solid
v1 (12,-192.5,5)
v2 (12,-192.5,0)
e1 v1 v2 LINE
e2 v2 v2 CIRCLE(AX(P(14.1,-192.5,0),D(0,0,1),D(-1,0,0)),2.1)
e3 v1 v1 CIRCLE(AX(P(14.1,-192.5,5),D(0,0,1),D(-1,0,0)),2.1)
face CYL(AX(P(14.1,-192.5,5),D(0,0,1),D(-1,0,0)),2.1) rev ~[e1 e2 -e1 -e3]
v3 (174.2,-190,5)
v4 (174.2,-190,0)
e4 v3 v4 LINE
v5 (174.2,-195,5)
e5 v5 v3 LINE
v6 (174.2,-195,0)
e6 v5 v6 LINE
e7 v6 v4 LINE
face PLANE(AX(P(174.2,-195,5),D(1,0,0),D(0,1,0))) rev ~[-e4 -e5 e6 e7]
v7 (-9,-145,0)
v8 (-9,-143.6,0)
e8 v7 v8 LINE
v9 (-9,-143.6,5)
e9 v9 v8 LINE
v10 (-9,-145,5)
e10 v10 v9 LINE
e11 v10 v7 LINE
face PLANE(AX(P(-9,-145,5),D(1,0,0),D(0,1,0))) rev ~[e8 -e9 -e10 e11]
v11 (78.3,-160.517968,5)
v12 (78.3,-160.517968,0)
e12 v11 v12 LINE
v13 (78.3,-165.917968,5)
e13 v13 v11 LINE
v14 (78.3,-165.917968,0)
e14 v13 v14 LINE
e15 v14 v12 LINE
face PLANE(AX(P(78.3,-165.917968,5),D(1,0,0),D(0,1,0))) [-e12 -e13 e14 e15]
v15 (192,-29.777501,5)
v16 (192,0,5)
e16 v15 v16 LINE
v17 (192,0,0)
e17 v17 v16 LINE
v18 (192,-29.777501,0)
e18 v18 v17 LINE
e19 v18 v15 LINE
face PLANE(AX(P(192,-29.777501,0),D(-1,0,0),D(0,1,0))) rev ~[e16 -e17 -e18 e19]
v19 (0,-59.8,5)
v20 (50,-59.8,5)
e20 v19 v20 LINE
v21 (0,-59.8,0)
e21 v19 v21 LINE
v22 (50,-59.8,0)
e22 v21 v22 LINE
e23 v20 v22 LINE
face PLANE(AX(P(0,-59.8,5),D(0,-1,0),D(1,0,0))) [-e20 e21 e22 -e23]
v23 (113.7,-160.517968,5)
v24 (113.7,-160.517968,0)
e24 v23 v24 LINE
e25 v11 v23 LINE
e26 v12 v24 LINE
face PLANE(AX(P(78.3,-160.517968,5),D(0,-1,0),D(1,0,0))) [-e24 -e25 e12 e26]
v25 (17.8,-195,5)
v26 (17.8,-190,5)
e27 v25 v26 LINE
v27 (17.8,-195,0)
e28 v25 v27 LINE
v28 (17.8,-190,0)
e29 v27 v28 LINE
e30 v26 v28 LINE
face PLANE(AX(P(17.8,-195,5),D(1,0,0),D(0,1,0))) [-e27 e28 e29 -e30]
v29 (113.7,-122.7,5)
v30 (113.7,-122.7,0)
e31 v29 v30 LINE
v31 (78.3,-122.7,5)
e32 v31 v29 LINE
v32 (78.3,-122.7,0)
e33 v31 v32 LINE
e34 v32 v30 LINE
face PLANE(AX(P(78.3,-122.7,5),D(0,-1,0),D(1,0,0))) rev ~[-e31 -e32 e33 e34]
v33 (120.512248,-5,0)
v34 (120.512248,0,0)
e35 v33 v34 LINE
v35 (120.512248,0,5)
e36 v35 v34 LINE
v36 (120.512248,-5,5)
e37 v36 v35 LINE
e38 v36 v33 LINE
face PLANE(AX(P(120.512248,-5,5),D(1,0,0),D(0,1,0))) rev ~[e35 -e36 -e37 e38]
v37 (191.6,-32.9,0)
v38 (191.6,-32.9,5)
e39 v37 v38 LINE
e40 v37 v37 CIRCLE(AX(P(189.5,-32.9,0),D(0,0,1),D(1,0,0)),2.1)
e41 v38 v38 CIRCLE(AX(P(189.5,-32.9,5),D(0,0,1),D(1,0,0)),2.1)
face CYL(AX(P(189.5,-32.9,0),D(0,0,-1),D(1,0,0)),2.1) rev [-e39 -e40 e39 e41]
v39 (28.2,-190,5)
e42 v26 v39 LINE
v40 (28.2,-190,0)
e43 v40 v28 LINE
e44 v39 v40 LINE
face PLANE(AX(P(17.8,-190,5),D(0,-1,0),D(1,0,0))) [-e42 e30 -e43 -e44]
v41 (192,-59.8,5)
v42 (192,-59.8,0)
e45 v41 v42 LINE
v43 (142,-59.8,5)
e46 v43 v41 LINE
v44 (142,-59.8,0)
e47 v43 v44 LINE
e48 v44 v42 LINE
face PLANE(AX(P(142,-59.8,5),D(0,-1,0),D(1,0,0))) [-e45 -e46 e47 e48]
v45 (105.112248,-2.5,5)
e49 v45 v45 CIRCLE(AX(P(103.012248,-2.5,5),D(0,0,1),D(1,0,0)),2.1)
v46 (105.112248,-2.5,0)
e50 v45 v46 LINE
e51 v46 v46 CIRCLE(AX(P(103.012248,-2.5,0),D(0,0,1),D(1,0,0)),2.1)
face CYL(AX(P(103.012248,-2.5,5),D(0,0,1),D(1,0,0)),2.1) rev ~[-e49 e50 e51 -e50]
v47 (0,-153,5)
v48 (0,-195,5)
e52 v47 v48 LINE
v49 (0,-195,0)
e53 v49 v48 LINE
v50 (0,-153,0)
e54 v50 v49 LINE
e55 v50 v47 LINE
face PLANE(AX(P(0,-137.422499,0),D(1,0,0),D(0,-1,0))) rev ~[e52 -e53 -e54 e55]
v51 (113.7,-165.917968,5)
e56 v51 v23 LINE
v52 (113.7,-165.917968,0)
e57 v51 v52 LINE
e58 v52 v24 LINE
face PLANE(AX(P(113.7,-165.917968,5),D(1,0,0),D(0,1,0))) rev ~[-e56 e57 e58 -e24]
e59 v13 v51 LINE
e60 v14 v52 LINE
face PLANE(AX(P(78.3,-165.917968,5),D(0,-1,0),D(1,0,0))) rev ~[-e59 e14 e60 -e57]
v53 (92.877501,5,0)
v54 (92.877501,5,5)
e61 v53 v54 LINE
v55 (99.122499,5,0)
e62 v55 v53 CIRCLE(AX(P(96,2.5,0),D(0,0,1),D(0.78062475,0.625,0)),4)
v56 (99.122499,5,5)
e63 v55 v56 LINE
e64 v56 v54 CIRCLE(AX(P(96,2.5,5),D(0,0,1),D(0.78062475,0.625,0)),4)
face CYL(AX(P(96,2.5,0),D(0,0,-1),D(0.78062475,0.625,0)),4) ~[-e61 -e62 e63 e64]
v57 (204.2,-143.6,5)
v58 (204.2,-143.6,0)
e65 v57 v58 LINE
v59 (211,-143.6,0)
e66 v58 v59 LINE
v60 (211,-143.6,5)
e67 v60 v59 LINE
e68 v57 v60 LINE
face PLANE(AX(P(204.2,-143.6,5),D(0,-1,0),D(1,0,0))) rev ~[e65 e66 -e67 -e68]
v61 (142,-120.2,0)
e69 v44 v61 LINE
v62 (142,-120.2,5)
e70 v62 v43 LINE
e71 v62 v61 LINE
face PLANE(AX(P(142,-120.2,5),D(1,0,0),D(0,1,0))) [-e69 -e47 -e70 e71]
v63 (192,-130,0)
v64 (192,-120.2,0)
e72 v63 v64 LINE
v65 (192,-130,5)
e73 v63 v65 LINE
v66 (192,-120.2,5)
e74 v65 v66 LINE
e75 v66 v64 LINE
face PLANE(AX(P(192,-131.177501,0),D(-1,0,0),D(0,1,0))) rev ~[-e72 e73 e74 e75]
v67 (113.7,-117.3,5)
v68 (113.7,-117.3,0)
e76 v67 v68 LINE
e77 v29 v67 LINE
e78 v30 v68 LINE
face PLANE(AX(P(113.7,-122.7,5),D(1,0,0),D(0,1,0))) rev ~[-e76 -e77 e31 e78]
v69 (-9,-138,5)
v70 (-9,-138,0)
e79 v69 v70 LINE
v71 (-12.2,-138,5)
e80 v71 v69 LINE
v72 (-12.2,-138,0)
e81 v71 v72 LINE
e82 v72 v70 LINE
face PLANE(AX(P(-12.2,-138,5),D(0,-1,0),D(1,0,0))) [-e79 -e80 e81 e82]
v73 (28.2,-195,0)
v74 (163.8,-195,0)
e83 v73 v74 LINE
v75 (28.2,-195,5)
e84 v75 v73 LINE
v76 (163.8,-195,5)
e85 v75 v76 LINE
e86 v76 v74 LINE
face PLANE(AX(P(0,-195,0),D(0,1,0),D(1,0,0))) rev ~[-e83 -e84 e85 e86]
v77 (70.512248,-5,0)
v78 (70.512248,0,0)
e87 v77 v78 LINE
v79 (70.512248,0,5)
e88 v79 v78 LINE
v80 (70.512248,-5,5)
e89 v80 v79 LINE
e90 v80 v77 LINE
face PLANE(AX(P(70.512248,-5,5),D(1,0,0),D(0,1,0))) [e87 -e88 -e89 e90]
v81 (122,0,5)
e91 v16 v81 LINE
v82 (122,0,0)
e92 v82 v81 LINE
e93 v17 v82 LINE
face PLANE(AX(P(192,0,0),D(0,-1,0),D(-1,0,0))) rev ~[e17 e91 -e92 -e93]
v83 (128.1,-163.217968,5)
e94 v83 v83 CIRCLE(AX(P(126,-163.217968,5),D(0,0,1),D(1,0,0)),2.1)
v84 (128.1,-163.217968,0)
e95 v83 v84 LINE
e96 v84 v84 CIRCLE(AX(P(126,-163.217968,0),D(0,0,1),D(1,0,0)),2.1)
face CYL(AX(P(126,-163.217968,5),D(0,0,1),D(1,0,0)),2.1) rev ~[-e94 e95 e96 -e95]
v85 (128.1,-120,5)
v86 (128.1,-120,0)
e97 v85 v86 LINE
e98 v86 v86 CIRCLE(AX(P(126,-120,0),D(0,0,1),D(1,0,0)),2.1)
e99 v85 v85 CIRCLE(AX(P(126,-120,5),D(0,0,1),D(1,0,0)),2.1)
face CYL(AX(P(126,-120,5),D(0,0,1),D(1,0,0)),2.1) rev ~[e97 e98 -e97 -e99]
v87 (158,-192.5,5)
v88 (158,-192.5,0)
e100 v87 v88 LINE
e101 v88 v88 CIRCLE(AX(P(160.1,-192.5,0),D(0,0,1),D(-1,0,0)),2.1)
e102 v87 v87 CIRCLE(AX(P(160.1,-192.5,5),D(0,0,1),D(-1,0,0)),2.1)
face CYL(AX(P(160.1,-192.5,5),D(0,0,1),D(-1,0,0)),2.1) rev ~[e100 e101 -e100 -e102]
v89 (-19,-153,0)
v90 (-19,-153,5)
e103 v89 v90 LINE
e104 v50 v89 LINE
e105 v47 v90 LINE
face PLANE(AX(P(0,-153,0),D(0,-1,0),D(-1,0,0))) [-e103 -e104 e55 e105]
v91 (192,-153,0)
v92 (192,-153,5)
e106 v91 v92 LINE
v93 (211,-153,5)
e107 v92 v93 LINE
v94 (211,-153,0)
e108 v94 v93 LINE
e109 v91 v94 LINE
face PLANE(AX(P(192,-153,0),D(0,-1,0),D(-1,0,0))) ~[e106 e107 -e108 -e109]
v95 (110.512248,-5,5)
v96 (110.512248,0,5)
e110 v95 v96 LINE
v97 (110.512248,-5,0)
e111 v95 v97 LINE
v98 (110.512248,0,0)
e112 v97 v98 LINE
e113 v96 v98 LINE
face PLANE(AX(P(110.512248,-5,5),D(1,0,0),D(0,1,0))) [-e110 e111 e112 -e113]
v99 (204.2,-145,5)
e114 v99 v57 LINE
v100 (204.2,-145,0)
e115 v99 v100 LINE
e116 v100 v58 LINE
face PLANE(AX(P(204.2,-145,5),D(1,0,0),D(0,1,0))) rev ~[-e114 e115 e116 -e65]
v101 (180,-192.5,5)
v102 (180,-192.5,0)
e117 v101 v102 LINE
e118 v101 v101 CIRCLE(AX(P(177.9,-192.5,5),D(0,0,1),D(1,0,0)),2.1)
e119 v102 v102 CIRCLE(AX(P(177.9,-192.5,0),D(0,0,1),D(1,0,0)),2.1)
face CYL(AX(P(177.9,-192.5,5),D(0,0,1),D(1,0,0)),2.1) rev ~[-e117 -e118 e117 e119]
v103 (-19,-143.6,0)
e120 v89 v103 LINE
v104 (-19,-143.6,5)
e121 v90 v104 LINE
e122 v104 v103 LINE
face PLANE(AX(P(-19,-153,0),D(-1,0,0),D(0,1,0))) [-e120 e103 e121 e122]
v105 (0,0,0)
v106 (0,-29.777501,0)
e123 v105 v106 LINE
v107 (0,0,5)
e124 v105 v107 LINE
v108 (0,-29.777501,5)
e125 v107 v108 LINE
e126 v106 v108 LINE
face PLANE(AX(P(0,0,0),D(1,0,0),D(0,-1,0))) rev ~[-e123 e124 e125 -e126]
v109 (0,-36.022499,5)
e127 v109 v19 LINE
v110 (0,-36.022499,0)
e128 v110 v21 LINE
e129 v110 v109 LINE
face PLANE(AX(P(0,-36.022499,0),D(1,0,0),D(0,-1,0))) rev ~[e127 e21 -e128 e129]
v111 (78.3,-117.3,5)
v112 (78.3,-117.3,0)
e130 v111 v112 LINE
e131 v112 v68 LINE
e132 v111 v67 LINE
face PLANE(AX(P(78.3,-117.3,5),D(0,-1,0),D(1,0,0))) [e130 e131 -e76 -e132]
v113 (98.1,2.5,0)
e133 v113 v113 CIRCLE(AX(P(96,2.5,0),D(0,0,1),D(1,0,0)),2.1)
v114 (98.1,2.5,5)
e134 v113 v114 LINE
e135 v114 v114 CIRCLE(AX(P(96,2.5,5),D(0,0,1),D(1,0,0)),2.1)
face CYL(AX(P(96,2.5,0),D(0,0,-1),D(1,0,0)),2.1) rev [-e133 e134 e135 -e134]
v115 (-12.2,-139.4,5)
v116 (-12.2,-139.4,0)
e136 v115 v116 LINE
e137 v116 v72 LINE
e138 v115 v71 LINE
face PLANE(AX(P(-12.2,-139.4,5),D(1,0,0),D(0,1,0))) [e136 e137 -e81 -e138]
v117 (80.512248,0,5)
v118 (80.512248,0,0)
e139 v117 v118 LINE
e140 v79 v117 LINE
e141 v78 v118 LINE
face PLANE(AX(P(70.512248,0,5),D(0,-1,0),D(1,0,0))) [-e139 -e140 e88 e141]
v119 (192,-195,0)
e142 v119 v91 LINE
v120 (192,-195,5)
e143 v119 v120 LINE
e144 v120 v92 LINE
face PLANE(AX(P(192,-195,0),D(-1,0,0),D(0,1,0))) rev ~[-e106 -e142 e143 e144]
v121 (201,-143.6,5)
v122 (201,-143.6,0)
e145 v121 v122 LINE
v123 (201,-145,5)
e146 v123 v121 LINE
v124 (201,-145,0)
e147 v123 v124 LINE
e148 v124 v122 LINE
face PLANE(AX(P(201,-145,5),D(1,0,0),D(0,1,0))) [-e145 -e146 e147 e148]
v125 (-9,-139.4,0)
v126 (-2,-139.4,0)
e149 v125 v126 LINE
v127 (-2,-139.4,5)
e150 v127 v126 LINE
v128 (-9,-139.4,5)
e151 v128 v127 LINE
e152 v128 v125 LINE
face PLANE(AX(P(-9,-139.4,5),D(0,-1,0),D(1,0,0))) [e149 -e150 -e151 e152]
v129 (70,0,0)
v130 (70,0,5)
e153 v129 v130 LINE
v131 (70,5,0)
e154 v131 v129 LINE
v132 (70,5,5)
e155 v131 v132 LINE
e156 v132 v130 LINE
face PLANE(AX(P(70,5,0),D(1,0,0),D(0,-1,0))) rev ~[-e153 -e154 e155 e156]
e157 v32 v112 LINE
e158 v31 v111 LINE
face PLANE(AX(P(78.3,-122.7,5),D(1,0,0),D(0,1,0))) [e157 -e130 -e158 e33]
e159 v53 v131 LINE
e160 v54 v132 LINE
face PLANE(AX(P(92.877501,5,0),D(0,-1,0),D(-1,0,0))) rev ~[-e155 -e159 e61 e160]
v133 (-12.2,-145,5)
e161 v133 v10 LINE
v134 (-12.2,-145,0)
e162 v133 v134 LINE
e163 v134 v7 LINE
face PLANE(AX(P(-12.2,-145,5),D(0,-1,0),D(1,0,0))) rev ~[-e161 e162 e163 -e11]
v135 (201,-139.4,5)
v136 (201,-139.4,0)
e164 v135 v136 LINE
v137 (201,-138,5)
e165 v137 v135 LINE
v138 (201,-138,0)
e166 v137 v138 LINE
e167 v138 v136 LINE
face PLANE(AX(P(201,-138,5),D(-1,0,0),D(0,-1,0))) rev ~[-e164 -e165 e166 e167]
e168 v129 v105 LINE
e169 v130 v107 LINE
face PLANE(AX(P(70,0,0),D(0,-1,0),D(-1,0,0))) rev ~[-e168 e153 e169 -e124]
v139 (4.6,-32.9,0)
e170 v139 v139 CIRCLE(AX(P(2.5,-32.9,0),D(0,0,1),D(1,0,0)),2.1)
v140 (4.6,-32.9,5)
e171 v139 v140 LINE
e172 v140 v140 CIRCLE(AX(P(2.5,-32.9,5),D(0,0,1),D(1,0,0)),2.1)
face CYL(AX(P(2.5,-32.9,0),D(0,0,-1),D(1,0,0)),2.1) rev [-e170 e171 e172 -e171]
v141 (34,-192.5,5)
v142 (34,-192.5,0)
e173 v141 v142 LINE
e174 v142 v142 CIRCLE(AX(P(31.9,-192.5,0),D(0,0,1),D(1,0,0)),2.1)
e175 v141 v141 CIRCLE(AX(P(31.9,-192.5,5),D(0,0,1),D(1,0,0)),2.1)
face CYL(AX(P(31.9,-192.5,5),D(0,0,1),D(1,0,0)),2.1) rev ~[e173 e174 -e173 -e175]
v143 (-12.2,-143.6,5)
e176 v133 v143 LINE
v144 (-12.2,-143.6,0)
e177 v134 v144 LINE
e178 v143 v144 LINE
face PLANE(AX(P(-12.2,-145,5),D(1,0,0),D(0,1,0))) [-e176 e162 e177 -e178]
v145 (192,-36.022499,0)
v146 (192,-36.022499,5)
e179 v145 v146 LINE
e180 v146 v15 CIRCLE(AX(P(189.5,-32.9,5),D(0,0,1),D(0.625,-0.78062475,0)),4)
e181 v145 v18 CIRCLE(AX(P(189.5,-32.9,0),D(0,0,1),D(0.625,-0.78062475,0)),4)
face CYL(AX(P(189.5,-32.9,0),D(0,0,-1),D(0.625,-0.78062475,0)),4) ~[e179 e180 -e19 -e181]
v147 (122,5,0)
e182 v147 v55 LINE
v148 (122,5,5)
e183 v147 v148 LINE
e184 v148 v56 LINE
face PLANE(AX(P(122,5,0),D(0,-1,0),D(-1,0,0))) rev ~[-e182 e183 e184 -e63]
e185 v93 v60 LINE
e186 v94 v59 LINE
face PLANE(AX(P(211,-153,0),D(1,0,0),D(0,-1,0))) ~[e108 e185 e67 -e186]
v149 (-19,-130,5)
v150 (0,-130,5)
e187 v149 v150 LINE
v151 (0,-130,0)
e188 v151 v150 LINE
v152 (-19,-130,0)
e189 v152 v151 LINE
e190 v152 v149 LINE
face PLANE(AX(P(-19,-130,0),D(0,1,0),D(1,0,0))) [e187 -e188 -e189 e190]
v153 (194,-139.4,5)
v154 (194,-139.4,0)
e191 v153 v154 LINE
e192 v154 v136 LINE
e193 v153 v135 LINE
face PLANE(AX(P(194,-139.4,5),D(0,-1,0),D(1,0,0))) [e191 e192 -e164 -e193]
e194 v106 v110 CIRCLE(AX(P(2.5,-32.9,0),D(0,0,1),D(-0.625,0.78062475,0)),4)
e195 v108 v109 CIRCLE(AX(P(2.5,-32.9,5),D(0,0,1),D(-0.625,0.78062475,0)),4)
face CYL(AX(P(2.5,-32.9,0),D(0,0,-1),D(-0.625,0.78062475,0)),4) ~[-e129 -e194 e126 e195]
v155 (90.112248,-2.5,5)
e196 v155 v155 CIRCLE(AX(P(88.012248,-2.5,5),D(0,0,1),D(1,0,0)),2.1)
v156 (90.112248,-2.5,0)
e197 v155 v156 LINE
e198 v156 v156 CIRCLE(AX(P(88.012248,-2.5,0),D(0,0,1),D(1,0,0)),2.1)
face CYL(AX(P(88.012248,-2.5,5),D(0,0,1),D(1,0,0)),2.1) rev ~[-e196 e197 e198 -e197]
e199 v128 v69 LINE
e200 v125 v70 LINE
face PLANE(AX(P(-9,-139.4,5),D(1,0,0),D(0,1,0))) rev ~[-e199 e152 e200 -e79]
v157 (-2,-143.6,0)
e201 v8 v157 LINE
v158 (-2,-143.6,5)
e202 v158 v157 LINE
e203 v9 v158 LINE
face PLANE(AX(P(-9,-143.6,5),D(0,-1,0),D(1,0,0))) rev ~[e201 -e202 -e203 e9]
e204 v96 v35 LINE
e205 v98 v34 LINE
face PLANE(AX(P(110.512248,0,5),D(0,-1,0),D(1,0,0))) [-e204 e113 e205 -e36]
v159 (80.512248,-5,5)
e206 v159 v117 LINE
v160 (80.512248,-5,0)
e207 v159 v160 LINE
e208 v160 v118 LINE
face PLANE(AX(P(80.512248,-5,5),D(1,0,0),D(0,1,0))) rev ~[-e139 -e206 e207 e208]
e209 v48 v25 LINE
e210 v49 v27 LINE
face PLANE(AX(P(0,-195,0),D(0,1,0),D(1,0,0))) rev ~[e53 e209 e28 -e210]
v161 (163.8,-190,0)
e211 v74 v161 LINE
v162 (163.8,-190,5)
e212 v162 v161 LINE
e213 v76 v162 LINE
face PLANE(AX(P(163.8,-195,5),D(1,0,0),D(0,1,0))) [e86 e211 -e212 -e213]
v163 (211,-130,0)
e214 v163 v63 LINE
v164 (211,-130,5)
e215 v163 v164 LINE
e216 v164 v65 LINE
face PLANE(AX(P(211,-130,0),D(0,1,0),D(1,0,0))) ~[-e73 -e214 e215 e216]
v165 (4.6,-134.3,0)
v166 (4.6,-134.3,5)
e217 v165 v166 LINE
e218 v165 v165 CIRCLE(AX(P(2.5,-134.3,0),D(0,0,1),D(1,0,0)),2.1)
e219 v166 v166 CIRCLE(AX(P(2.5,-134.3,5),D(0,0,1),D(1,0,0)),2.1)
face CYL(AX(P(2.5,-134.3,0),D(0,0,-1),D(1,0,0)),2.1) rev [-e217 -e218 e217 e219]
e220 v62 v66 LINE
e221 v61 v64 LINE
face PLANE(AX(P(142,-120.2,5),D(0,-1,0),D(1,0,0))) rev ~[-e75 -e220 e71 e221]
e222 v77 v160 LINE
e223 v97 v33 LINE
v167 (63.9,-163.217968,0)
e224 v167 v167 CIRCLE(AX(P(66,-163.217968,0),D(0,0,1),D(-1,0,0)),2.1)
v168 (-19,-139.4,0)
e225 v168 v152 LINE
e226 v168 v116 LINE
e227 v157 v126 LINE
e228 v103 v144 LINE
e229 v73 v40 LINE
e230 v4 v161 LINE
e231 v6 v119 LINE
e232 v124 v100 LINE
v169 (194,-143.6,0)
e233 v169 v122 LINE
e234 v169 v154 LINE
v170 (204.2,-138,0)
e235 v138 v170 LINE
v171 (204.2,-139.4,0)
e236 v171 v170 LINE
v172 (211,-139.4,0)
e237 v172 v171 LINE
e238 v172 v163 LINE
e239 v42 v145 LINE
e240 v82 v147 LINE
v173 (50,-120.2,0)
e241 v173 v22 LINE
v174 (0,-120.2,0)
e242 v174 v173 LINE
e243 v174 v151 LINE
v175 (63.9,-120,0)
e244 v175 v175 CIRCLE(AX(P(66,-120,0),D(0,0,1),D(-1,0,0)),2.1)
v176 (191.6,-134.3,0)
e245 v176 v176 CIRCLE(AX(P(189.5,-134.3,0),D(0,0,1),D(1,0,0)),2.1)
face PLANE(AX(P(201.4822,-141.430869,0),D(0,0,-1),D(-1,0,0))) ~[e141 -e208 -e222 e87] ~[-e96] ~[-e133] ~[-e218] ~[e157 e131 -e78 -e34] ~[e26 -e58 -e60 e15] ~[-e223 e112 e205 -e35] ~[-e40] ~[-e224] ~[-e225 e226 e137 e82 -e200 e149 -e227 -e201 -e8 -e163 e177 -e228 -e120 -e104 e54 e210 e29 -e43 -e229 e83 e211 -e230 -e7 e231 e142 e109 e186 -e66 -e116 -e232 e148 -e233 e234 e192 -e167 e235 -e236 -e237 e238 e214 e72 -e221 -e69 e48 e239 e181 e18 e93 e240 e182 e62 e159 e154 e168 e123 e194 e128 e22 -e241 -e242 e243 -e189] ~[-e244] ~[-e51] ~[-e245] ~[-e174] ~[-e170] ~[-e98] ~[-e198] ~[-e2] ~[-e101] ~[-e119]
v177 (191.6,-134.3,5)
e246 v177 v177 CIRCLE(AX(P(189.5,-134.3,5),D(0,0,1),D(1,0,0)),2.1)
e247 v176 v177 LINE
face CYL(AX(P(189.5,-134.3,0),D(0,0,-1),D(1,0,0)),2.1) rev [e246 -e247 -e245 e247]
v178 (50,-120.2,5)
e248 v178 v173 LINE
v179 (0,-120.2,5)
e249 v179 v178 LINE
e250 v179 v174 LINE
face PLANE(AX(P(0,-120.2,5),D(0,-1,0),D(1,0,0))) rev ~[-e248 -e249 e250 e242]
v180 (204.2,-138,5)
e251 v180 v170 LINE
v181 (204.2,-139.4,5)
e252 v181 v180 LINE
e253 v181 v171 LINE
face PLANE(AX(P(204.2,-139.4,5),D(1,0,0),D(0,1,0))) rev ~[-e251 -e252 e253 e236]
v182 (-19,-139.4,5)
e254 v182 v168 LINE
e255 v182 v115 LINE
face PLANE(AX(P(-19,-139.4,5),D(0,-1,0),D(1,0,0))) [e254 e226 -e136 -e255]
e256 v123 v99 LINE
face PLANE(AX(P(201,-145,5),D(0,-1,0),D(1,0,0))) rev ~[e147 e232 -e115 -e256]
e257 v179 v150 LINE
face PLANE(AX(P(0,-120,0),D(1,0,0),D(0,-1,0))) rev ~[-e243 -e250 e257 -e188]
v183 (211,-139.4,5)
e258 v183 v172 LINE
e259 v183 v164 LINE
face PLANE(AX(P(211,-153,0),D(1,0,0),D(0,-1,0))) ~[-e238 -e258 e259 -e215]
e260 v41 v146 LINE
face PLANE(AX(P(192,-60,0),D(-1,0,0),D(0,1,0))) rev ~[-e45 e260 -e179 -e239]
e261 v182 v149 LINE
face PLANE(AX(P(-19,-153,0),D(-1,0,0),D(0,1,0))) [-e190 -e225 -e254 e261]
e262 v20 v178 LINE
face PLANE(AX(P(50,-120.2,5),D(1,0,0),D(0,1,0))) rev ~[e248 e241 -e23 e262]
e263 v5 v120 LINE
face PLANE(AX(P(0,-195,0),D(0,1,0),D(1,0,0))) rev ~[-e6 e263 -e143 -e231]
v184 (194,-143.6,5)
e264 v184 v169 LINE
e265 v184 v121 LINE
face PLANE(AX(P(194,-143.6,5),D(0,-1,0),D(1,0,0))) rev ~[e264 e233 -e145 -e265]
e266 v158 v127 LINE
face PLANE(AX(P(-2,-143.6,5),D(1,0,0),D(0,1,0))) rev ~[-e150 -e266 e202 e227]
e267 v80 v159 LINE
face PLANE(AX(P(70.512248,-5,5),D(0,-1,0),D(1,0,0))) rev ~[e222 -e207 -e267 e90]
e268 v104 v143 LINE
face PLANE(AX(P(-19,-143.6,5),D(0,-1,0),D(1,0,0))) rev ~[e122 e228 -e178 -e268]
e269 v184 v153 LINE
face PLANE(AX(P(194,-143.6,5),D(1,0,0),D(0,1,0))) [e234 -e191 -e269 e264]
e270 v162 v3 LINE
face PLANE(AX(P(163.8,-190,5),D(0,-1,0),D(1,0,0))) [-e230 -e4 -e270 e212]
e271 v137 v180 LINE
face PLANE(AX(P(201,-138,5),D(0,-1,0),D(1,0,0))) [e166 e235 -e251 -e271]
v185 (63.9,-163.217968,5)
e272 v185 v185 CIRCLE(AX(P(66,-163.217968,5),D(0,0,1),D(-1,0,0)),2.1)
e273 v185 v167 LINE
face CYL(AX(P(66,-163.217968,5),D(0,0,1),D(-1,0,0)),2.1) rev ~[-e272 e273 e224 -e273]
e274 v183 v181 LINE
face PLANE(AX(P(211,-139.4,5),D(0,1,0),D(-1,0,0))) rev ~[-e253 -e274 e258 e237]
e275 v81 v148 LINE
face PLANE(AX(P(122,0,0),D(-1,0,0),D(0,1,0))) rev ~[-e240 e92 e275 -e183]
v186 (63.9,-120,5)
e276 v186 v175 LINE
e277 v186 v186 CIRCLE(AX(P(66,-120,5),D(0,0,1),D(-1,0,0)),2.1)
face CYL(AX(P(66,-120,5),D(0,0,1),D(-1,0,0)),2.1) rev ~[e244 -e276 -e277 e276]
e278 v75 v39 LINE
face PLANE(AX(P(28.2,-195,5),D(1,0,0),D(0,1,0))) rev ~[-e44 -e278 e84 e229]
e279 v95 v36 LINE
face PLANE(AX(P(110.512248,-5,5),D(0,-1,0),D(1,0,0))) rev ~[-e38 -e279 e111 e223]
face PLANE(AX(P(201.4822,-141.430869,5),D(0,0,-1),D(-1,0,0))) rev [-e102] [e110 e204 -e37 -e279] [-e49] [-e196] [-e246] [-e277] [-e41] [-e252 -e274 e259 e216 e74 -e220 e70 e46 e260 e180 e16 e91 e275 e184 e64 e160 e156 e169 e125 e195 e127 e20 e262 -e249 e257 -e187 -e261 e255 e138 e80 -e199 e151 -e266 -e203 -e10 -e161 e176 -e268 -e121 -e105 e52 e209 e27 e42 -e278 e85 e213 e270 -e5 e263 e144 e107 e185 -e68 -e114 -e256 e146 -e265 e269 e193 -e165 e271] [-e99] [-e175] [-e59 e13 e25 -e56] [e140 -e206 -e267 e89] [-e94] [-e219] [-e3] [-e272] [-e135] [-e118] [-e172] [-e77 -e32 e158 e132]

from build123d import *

# Parameters (mm, degrees)
SKETCH1_R           = 2.1
BOSS_EXTRUDE1_DEPTH = 5
SKETCH5_W           = 35
SKETCH5_H           = 5
SKETCH5_W_2         = 10
CUT_EXTRUDE2_DEPTH  = 5
SKETCH6_R           = 2.1
CUT_EXTRUDE3_DEPTH  = 5
SKETCH8_R           = 2.1
SKETCH8_W           = 10
SKETCH8_H           = 5
CUT_EXTRUDE4_DEPTH  = 5
BOSS_EXTRUDE3_START = -5
BOSS_EXTRUDE3_DEPTH = 5
SKETCH12_W          = 10.4
SKETCH12_H          = 5
CUT_EXTRUDE5_DEPTH  = 5
SKETCH13_W          = 35.4
SKETCH13_H          = 5.4
CUT_EXTRUDE6_DEPTH  = 5
SKETCH16_W          = 50
SKETCH16_H          = 60.4
CUT_EXTRUDE8_DEPTH  = 5
SKETCH17_W          = 6.8
SKETCH17_H          = 4.2
SKETCH17_W_2        = 3.2
SKETCH17_H_2        = 1.4
SKETCH17_W_3        = 7
CUT_EXTRUDE9_DEPTH  = 5


with BuildPart() as part:
    # Sketch1 → Boss-Extrude1 (new body)
    with BuildSketch(Plane.XY):
        with BuildLine():
            ThreePointArc((0, -29.777501001), (-1.5, -32.9), (0, -36.022498999))
            Line((0, -36.022498999), (0, -60))
            Line((0, -60), (50, -60))
            Line((50, -60), (50, -120))
            Line((50, -120), (0, -120))
            Line((0, -120), (0, -131.177501001))
            ThreePointArc((0, -131.177501001), (-1.5, -134.3), (0, -137.422498999))
            Line((0, -137.422498999), (0, -195))
            Line((0, -195), (192, -195))
            Line((192, -195), (192, -137.422498999))
            ThreePointArc((192, -137.422498999), (193.5, -134.3), (192, -131.177501001))
            Line((192, -131.177501001), (192, -120))
            Line((192, -120), (142, -120))
            Line((142, -120), (142, -60))
            Line((142, -60), (192, -60))
            Line((192, -60), (192, -36.022498999))
            ThreePointArc((192, -36.022498999), (193.5, -32.9), (192, -29.777501001))
            Line((192, -29.777501001), (192, 0))
            Line((192, 0), (122, 0))
            Line((122, 0), (122, 5))
            Line((122, 5), (99.122498999, 5))
            ThreePointArc((99.122498999, 5), (96, 6.5), (92.877501001, 5))
            Line((92.877501001, 5), (70, 5))
            Line((70, 5), (70, 0))
            Line((70, 0), (59, 0))
            Line((59, 0), (0, 0))
            Line((0, 0), (0, -21))
            Line((0, -21), (0, -29.777501001))
        make_face()
        with Locations((2.5, -134.3)):
            Circle(SKETCH1_R, mode=Mode.SUBTRACT)
        with Locations((189.5, -134.3)):
            Circle(SKETCH1_R, mode=Mode.SUBTRACT)
        with Locations((2.5, -32.9)):
            Circle(SKETCH1_R, mode=Mode.SUBTRACT)
        with Locations((96, 2.5)):
            Circle(SKETCH1_R, mode=Mode.SUBTRACT)
        with Locations((189.5, -32.9)):
            Circle(SKETCH1_R, mode=Mode.SUBTRACT)
    extrude(amount=BOSS_EXTRUDE1_DEPTH)

    # Sketch5 → Cut-Extrude2 (cut)
    with BuildSketch(Plane.XY.offset(5)):
        with Locations((96, -163.217967697)):
            Rectangle(SKETCH5_W, SKETCH5_H)
        with Locations((96, -120)):
            Rectangle(SKETCH5_W, SKETCH5_H)
        with Locations((23, -192.5)):
            Rectangle(SKETCH5_W_2, SKETCH5_H)
        with Locations((169, -192.5)):
            Rectangle(SKETCH5_W_2, SKETCH5_H)
    extrude(amount=-CUT_EXTRUDE2_DEPTH, mode=Mode.SUBTRACT)

    # Sketch6 → Cut-Extrude3 (cut)
    with BuildSketch(Plane.XY.offset(5)):
        with Locations((213.012247999, -33.340051313)):
            Circle(SKETCH6_R)
        with Locations((177.9, -192.5)):
            Circle(SKETCH6_R)
        with Locations(Location((160.1, -192.5, 0), (0, 0, 180))):
            Circle(SKETCH6_R)
        with Locations((-21.012247999, -33.340051313)):
            Circle(SKETCH6_R)
        with Locations((31.9, -192.5)):
            Circle(SKETCH6_R)
        with Locations(Location((14.1, -192.5, 0), (0, 0, 180))):
            Circle(SKETCH6_R)
        with Locations((126, -120)):
            Circle(SKETCH6_R)
        with Locations((126, -163.217967697)):
            Circle(SKETCH6_R)
        with Locations(Location((66, -163.217967697, 0), (0, 0, 180))):
            Circle(SKETCH6_R)
        with Locations(Location((66, -120, 0), (0, 0, 180))):
            Circle(SKETCH6_R)
    extrude(amount=-CUT_EXTRUDE3_DEPTH, mode=Mode.SUBTRACT)

    # Sketch8 → Cut-Extrude4 (cut)
    with BuildSketch(Plane.XY.offset(5)):
        with Locations((88.012247999, -2.5)):
            Circle(SKETCH8_R)
        with Locations((103.012247999, -2.5)):
            Circle(SKETCH8_R)
        with Locations((75.512247999, -2.5)):
            Rectangle(SKETCH8_W, SKETCH8_H)
        with Locations((115.512247999, -2.5)):
            Rectangle(SKETCH8_W, SKETCH8_H)
    extrude(amount=-CUT_EXTRUDE4_DEPTH, mode=Mode.SUBTRACT)

    # Sketch9 → Boss-Extrude3 (add)
    with BuildSketch(Plane.XY.offset(5).offset(BOSS_EXTRUDE3_START)):
        with BuildLine():
            Line((-19, -130), (0, -130))
            Line((0, -130), (0, -131.177501001))
            ThreePointArc((0, -131.177501001), (-1.5, -134.3), (0, -137.422498999))
            Line((0, -137.422498999), (0, -153))
            Line((0, -153), (-19, -153))
            Line((-19, -153), (-19, -130))
        make_face()
    boss_extrude3 = extrude(amount=BOSS_EXTRUDE3_DEPTH)

    # Sketch12 → Cut-Extrude5 (cut)
    with BuildSketch(Plane.XY.offset(5)):
        with Locations((23, -192.5)):
            Rectangle(SKETCH12_W, SKETCH12_H)
        with Locations((169, -192.5)):
            Rectangle(SKETCH12_W, SKETCH12_H)
    extrude(amount=-CUT_EXTRUDE5_DEPTH, mode=Mode.SUBTRACT)

    # Sketch13 → Cut-Extrude6 (cut)
    with BuildSketch(Plane.XY.offset(5)):
        with Locations((96, -120)):
            Rectangle(SKETCH13_W, SKETCH13_H)
        with Locations((96, -163.217967697)):
            Rectangle(SKETCH13_W, SKETCH13_H)
    extrude(amount=-CUT_EXTRUDE6_DEPTH, mode=Mode.SUBTRACT)

    # Sketch16 → Cut-Extrude8 (cut)
    with BuildSketch(Plane.XY.offset(5)):
        with Locations((25, -90)):
            Rectangle(SKETCH16_W, SKETCH16_H)
        with Locations((167, -90)):
            Rectangle(SKETCH16_W, SKETCH16_H)
    extrude(amount=-CUT_EXTRUDE8_DEPTH, mode=Mode.SUBTRACT)

    # Mirror2: Boss-Extrude3 across plane
    add(boss_extrude3.mirror(Plane(origin=(96, 0, 0), x_dir=(0, 0, 1), z_dir=(1, 0, 0))))

    # Sketch17 → Cut-Extrude9 (cut)
    with BuildSketch(Plane.XY.offset(5)):
        with Locations((207.6, -141.5)):
            Rectangle(SKETCH17_W, SKETCH17_H)
        with Locations((202.6, -141.5)):
            Rectangle(SKETCH17_W_2, SKETCH17_H)
        with Locations((202.6, -138.7)):
            Rectangle(SKETCH17_W_2, SKETCH17_H_2)
        with Locations((197.5, -141.5)):
            Rectangle(SKETCH17_W_3, SKETCH17_H)
        with Locations((202.6, -144.3)):
            Rectangle(SKETCH17_W_2, SKETCH17_H_2)
        with Locations((-15.6, -141.5)):
            Rectangle(SKETCH17_W, SKETCH17_H)
        with Locations((-10.6, -138.7)):
            Rectangle(SKETCH17_W_2, SKETCH17_H_2)
        with Locations((-10.6, -141.5)):
            Rectangle(SKETCH17_W_2, SKETCH17_H)
        with Locations((-5.5, -141.5)):
            Rectangle(SKETCH17_W_3, SKETCH17_H)
        with Locations((-10.6, -144.3)):
            Rectangle(SKETCH17_W_2, SKETCH17_H_2)
    extrude(amount=-CUT_EXTRUDE9_DEPTH, mode=Mode.SUBTRACT)


solid = part.part
